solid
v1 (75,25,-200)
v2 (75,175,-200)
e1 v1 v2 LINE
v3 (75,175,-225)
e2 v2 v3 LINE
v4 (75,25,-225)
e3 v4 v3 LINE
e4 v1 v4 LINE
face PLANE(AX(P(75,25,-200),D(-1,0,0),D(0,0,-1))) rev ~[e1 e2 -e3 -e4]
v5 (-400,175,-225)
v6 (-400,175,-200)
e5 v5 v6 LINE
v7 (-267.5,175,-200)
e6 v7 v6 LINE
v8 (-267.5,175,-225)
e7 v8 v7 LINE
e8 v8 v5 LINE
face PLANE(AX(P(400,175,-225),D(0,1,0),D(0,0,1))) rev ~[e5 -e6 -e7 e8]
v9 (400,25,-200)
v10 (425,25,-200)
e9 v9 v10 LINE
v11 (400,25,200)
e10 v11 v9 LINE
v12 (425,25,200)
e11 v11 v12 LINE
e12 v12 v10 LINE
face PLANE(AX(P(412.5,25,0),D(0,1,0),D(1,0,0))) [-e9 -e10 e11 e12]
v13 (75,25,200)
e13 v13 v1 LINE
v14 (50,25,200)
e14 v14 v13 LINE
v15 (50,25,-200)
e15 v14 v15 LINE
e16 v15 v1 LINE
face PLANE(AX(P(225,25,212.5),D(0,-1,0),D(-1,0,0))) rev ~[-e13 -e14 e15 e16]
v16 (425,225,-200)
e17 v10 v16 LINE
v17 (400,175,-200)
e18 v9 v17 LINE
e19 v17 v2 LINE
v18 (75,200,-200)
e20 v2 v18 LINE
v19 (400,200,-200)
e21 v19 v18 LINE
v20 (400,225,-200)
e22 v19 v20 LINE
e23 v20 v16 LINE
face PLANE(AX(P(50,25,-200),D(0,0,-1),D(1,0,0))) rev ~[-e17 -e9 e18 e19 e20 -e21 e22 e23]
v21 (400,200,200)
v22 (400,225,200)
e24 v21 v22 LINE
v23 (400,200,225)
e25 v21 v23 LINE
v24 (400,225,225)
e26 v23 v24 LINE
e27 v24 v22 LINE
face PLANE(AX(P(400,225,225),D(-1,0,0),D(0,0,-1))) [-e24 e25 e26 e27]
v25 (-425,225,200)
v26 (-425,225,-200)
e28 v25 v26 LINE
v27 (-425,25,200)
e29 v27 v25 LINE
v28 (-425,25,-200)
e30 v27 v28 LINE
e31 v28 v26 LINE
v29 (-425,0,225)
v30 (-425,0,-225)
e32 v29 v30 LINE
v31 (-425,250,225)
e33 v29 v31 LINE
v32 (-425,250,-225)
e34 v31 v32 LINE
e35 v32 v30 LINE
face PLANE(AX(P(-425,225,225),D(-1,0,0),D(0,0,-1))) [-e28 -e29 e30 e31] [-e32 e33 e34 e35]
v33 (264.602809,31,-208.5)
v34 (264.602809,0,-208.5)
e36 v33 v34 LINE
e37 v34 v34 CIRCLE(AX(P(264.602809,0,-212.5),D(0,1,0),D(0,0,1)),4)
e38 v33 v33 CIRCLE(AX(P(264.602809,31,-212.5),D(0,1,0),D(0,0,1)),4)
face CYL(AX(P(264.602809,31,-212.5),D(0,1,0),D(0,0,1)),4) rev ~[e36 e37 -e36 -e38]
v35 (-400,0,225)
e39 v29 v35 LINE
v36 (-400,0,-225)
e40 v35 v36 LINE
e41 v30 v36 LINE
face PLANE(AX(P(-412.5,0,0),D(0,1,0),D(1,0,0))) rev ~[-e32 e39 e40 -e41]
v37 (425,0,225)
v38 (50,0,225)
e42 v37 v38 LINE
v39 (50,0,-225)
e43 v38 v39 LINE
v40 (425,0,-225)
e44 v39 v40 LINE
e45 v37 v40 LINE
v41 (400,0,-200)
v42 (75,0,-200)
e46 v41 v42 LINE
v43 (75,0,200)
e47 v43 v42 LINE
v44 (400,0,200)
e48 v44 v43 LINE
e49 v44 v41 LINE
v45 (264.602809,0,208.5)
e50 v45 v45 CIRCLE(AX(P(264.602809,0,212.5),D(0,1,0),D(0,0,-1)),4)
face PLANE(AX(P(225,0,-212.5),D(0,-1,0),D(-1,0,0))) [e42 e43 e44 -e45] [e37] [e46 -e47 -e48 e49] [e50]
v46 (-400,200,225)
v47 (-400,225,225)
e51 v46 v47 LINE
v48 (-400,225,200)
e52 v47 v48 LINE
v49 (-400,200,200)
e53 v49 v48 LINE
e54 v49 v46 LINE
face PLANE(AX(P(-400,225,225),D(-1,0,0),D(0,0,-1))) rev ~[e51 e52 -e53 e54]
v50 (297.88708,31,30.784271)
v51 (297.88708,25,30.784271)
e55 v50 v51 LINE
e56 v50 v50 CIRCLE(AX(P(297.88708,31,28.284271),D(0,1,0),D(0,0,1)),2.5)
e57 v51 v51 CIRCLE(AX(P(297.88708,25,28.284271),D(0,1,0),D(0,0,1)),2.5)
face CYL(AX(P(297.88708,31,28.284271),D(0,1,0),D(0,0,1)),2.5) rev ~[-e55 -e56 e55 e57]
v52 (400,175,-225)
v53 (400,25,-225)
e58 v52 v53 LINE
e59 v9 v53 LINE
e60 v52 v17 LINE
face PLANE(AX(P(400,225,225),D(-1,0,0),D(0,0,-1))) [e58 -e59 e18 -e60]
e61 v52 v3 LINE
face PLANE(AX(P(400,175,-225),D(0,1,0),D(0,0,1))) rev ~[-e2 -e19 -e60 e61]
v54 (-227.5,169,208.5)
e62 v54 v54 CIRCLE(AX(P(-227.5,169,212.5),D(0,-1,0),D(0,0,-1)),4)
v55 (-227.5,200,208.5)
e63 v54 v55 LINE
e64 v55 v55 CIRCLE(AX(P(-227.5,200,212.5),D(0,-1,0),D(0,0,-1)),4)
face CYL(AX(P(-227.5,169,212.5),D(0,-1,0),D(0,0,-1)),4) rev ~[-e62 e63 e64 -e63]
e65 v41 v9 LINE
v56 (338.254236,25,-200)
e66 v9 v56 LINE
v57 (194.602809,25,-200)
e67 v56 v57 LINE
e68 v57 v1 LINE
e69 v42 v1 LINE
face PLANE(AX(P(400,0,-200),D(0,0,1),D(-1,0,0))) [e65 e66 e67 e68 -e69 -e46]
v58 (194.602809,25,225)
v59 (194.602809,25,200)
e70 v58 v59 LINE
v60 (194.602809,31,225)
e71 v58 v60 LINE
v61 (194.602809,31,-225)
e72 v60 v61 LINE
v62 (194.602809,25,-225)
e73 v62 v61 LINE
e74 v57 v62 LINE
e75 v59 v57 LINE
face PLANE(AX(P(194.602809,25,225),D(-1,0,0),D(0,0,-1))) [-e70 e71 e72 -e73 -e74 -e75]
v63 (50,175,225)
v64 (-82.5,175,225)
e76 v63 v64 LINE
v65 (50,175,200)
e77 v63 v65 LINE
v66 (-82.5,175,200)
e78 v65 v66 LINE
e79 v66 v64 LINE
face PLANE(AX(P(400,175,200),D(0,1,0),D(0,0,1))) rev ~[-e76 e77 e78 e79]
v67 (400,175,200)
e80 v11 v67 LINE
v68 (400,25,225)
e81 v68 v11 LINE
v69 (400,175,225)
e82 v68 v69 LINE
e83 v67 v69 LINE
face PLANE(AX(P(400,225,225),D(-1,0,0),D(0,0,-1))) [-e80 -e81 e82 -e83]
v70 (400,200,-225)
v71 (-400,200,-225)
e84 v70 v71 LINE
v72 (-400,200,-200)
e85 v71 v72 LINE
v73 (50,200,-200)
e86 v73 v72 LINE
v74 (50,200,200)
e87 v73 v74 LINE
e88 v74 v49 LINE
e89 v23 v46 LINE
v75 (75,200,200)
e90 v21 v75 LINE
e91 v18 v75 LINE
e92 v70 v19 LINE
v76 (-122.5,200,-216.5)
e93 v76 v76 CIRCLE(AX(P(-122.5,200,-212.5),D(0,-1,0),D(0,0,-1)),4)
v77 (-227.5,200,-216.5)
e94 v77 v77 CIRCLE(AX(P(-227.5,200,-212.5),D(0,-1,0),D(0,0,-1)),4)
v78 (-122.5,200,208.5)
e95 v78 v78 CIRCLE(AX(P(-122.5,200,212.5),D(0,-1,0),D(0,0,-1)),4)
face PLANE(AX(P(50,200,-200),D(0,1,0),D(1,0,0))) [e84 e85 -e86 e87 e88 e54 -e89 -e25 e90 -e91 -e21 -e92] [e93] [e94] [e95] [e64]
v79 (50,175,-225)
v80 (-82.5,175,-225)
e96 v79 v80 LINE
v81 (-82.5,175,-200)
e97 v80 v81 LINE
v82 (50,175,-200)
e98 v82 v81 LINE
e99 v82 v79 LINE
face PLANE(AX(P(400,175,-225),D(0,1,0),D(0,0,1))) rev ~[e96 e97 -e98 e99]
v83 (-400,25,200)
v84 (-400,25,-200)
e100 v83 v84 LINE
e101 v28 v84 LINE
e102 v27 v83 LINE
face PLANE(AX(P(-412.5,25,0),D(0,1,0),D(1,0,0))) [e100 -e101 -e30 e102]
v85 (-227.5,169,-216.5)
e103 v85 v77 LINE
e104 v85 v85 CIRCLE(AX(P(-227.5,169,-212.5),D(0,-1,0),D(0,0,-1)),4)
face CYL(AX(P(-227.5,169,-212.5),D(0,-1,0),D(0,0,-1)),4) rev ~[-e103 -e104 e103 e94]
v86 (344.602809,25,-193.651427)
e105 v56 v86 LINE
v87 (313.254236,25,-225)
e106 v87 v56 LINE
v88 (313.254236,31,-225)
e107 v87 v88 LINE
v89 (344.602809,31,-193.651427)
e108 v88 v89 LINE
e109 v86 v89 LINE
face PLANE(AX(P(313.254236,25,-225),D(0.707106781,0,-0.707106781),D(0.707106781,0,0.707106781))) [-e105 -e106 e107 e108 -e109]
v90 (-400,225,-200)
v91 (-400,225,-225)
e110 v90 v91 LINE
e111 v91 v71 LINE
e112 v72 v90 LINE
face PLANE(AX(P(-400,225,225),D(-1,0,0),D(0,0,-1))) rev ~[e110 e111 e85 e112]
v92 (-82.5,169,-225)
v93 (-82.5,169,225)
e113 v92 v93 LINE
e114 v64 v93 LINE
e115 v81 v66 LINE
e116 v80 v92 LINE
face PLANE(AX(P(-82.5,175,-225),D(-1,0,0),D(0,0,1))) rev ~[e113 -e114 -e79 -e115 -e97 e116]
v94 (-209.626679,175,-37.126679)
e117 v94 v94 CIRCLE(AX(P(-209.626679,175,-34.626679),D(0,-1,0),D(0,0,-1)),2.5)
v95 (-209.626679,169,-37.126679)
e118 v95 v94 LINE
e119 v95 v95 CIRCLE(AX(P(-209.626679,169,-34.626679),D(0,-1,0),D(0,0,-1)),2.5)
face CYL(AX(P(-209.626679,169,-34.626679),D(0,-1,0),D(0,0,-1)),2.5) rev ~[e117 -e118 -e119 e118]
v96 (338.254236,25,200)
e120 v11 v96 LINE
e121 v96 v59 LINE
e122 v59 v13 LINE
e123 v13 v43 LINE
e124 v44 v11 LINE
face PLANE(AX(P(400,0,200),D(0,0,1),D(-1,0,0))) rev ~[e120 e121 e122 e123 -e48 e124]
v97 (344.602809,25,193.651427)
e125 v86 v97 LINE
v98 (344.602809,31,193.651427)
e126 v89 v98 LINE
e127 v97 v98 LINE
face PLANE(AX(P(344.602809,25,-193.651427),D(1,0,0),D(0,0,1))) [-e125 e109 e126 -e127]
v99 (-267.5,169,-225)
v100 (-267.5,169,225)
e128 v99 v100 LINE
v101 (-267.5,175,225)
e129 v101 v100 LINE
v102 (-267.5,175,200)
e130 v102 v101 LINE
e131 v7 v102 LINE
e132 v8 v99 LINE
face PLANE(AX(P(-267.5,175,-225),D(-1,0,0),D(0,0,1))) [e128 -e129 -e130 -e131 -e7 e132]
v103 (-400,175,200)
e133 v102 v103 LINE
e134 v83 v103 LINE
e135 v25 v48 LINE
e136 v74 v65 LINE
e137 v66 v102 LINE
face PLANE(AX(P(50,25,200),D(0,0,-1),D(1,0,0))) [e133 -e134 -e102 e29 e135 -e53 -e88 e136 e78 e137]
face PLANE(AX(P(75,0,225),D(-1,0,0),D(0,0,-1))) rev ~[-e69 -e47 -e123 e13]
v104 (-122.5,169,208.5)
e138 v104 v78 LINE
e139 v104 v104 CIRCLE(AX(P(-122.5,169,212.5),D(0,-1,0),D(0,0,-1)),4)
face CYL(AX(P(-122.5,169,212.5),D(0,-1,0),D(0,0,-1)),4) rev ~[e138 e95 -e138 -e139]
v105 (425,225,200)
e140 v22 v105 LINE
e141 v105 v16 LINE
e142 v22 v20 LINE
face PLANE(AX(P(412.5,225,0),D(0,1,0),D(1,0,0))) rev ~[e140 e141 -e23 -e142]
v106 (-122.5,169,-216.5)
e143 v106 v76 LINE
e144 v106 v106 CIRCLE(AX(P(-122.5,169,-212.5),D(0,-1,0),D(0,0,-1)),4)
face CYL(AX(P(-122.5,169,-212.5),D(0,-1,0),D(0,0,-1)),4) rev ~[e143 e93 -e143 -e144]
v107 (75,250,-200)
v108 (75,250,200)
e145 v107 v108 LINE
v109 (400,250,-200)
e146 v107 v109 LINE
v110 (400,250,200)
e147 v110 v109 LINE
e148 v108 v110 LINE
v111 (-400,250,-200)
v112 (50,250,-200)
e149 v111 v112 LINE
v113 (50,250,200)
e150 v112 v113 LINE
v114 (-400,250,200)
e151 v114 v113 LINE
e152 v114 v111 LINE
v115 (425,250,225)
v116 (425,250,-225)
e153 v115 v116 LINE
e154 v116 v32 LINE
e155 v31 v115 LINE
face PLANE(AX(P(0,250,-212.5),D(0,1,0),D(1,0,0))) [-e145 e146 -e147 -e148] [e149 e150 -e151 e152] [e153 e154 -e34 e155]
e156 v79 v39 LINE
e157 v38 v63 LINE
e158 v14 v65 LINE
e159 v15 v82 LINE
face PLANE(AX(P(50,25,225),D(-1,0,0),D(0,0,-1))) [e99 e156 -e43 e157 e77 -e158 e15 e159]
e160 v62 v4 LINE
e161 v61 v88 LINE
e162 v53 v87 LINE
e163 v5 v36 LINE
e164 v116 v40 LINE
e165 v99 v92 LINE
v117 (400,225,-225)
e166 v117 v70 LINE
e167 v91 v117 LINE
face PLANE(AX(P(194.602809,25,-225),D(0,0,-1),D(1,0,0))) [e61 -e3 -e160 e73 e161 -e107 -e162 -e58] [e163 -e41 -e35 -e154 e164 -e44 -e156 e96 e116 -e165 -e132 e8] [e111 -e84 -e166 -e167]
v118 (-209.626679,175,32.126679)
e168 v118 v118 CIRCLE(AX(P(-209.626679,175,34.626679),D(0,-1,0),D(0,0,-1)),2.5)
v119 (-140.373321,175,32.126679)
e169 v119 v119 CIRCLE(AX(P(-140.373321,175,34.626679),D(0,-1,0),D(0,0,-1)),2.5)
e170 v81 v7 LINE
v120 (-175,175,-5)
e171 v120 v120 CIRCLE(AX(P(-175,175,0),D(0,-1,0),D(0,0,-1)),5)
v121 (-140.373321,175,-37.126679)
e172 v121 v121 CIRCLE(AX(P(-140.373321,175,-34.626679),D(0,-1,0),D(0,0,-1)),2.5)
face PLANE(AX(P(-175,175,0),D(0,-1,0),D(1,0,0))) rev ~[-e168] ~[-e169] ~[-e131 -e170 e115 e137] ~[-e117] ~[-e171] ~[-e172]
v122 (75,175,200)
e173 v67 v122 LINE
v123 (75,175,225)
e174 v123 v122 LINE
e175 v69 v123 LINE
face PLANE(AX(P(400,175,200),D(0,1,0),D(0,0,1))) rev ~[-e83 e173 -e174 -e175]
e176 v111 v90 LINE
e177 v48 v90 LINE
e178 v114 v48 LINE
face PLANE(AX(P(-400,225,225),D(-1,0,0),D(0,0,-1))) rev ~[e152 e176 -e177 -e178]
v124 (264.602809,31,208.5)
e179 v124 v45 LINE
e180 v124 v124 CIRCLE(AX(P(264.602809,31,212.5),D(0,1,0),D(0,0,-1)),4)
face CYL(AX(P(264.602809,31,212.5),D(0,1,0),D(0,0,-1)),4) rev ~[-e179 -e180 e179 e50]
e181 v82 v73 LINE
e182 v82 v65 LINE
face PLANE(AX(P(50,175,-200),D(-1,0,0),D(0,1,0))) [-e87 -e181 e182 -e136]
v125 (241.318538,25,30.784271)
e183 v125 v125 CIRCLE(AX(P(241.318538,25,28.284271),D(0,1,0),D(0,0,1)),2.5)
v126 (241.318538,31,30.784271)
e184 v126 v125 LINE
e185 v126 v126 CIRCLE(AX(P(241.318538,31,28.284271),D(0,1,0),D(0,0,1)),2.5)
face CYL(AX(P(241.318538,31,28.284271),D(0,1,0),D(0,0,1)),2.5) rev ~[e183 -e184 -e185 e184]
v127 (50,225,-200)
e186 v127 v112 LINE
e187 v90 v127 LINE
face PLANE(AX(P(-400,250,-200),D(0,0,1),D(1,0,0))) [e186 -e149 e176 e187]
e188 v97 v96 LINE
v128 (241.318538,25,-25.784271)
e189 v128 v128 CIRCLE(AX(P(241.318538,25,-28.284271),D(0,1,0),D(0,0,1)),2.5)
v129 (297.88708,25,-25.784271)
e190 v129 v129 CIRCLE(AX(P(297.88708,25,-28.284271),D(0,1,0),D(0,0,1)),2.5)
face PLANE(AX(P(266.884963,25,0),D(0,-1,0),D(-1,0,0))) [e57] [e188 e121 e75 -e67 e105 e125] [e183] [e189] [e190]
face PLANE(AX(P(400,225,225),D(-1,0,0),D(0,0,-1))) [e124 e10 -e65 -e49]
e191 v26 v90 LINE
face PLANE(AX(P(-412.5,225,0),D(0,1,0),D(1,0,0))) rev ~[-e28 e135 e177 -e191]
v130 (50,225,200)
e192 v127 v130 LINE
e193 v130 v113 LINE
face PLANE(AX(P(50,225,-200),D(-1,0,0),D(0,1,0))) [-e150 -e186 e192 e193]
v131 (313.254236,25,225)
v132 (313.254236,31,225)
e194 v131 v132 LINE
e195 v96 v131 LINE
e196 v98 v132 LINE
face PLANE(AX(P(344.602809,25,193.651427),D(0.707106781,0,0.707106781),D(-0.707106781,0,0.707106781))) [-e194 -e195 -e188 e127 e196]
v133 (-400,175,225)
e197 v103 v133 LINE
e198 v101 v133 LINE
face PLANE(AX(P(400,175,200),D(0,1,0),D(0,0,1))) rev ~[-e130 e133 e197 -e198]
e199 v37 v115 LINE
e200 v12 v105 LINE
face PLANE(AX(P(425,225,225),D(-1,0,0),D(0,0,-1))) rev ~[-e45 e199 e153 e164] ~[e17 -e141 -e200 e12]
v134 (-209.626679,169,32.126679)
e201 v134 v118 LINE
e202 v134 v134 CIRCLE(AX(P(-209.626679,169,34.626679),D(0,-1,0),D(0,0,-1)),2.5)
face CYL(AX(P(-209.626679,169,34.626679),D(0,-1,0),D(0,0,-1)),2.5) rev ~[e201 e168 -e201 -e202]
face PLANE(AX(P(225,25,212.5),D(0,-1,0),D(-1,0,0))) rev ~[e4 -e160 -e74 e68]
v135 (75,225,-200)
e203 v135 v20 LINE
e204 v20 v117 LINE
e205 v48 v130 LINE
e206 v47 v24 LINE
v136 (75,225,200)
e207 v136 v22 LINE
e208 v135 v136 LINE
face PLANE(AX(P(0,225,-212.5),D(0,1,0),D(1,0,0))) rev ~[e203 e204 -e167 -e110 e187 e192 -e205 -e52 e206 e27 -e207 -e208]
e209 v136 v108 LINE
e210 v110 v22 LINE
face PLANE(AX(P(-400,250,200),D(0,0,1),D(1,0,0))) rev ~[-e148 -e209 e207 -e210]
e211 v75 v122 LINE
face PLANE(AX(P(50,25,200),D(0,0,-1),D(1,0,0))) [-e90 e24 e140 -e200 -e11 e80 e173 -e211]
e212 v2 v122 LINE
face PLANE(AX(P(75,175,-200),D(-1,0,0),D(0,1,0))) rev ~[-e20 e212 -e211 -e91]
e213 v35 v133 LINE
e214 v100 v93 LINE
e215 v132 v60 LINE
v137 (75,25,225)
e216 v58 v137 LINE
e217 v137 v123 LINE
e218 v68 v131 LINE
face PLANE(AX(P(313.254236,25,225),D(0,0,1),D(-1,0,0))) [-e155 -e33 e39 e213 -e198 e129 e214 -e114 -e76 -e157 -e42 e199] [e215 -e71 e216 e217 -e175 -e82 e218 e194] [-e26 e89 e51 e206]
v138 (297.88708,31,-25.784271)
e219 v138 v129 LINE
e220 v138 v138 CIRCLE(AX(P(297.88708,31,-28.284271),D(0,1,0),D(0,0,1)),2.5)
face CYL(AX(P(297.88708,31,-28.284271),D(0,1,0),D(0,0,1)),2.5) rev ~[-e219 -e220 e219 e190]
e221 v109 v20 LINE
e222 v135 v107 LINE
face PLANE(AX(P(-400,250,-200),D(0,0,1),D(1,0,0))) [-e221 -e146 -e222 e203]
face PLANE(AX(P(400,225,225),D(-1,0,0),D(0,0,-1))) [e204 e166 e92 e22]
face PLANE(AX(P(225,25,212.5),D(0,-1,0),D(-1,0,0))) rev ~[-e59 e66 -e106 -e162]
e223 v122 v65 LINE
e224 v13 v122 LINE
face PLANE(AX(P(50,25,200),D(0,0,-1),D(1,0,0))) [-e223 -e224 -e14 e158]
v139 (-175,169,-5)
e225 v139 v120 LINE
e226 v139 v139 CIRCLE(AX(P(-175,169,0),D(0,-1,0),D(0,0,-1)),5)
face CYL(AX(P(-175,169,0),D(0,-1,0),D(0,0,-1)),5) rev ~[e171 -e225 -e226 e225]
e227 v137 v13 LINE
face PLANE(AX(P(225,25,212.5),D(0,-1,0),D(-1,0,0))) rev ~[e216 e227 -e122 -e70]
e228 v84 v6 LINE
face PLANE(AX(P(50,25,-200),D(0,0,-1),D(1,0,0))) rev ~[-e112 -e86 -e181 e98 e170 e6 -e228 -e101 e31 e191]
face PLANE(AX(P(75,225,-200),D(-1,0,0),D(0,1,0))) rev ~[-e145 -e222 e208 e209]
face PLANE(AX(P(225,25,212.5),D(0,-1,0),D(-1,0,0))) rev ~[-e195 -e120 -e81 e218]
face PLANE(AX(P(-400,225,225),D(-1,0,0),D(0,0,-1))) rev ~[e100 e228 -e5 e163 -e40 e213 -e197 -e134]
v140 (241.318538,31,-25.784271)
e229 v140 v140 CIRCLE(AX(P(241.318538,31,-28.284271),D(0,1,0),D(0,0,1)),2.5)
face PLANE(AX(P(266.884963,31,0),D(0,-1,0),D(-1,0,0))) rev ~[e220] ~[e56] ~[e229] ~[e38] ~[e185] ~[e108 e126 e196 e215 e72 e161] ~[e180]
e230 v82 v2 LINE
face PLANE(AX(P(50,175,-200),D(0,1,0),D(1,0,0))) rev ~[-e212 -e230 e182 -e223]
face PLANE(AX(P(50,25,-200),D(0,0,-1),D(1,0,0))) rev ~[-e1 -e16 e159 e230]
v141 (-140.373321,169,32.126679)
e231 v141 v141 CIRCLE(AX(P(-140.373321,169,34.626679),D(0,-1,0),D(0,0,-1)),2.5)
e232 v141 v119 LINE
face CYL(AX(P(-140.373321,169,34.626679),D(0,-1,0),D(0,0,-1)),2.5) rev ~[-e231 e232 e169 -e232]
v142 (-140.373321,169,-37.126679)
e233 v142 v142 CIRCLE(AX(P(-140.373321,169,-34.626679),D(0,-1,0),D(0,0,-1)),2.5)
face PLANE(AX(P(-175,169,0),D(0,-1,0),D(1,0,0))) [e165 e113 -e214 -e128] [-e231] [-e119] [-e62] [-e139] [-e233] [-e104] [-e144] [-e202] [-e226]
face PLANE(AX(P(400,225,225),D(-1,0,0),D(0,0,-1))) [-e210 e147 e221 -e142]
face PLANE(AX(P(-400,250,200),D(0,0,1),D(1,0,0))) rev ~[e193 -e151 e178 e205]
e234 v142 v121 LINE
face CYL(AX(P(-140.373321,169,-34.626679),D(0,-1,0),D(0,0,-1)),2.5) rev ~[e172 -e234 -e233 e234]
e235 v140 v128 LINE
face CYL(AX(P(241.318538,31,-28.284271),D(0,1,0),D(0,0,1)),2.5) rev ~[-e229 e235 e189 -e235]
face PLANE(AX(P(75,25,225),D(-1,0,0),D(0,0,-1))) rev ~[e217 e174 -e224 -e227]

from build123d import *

# Parameters (mm, degrees)
SKETCH1_W             = 25
SKETCH1_H             = 450
BOSS_EXTRUDE2_DEPTH   = 25
BOSS_EXTRUDE2_2_DEPTH = 25
SKETCH2_W             = 25
SKETCH2_H             = 25
BOSS_EXTRUDE3_DEPTH   = 200
SKETCH3_W             = 25
SKETCH3_H             = 450
BOSS_EXTRUDE4_DEPTH   = 25
SKETCH5_W             = 25
SKETCH5_H             = 25
BOSS_EXTRUDE5_DEPTH   = 200
SKETCH6_W             = 25
SKETCH6_H             = 450
BOSS_EXTRUDE6_DEPTH   = 25
SKETCH7_W             = 800
SKETCH7_H             = 25
BOSS_EXTRUDE7_DEPTH   = 25
SKETCH8_W             = 350
SKETCH8_H             = 25
BOSS_EXTRUDE8_DEPTH   = 25
SKETCH9_W             = 25
SKETCH9_H             = 425
BOSS_EXTRUDE9_DEPTH   = 25
SKETCH10_W            = 25
SKETCH10_H            = 25
BOSS_EXTRUDE10_DEPTH  = 800
BOSS_EXTRUDE13_REACH  = 532.919
SKETCH14_W            = 25
SKETCH14_H            = 25
SKETCH15_W            = 185
SKETCH15_H            = 450
BOSS_EXTRUDE14_DEPTH  = 6
BOSS_EXTRUDE15_DEPTH  = 6
CUT_EXTRUDE2_REACH    = 511.717
SKETCH19_R            = 4
CUT_EXTRUDE4_REACH    = 530.404
SKETCH20_R            = 4
SKETCH21_R            = 5
SKETCH21_R_2          = 2.5
CUT_EXTRUDE5_DEPTH    = 10
BOSS_EXTRUDE16_REACH  = 652.961
SKETCH24_W            = 25
SKETCH24_H            = 25
SKETCH25_R            = 2.5
CUT_EXTRUDE6_DEPTH    = 10


with BuildPart() as part:
    # Sketch1 → Boss-Extrude2 (new body)
    with BuildSketch(Plane(origin=(0, 0, 0), x_dir=(1, 0, 0), z_dir=(0, 1, 0))):
        with Locations((-412.5, 0)):
            Rectangle(SKETCH1_W, SKETCH1_H)
    extrude(amount=BOSS_EXTRUDE2_DEPTH)

    # Sketch2 → Boss-Extrude3 (add)
    with BuildSketch(Plane(origin=(0, 25, 0), x_dir=(1, 0, 0), z_dir=(0, 1, 0))):
        with Locations((-412.5, 212.5)):
            Rectangle(SKETCH2_W, SKETCH2_H)
        with Locations((-412.5, -212.5)):
            Rectangle(SKETCH2_W, SKETCH2_H)
    extrude(amount=BOSS_EXTRUDE3_DEPTH)

    # Sketch3 → Boss-Extrude4 (add)
    with BuildSketch(Plane(origin=(0, 225, 0), x_dir=(1, 0, 0), z_dir=(0, 1, 0))):
        with Locations((-412.5, 0)):
            Rectangle(SKETCH3_W, SKETCH3_H)
    extrude(amount=BOSS_EXTRUDE4_DEPTH)



with BuildPart() as body_2:
    # Sketch1 → Boss-Extrude2 2 (new body)
    with BuildSketch(Plane(origin=(0, 0, 0), x_dir=(1, 0, 0), z_dir=(0, 1, 0))):
        with Locations((412.5, 0)):
            Rectangle(SKETCH1_W, SKETCH1_H)
    extrude(amount=BOSS_EXTRUDE2_2_DEPTH)

    # Sketch5 → Boss-Extrude5 (add)
    with BuildSketch(Plane(origin=(0, 25, 0), x_dir=(1, 0, 0), z_dir=(0, 1, 0))):
        with Locations((412.5, 212.5)):
            Rectangle(SKETCH5_W, SKETCH5_H)
        with Locations((412.5, -212.5)):
            Rectangle(SKETCH5_W, SKETCH5_H)
    extrude(amount=BOSS_EXTRUDE5_DEPTH)

    # Sketch6 → Boss-Extrude6 (add)
    with BuildSketch(Plane(origin=(0, 225, 0), x_dir=(1, 0, 0), z_dir=(0, 1, 0))):
        with Locations((412.5, 0)):
            Rectangle(SKETCH6_W, SKETCH6_H)
    extrude(amount=BOSS_EXTRUDE6_DEPTH)


with BuildPart() as part_1:
    add(part.part)

    add(body_2.part)  # Boss-Extrude7 merges body 2
    # Sketch7 → Boss-Extrude7 (add)
    with BuildSketch(Plane(origin=(0, 250, 0), x_dir=(1, 0, 0), z_dir=(0, 1, 0))):
        with Locations((0, 212.5)):
            Rectangle(SKETCH7_W, SKETCH7_H)
        with Locations((0, -212.5)):
            Rectangle(SKETCH7_W, SKETCH7_H)
    extrude(amount=-BOSS_EXTRUDE7_DEPTH)

    # Sketch8 → Boss-Extrude8 (add)
    with BuildSketch(Plane(origin=(0, 0, 0), x_dir=(-1, 0, 0), z_dir=(0, -1, 0))):
        with Locations((-225, 212.5)):
            Rectangle(SKETCH8_W, SKETCH8_H)
        with Locations((-225, -212.5)):
            Rectangle(SKETCH8_W, SKETCH8_H)
    extrude(amount=-BOSS_EXTRUDE8_DEPTH)

    # Sketch9 → Boss-Extrude9 (add)
    with BuildSketch(Plane(origin=(0, 0, 0), x_dir=(-1, 0, 0), z_dir=(0, -1, 0))):
        with Locations((-62.5, -12.5)):
            Rectangle(SKETCH9_W, SKETCH9_H)
    extrude(amount=-BOSS_EXTRUDE9_DEPTH)

    # Sketch10 → Boss-Extrude10 (add)
    with BuildSketch(Plane.ZY.offset(-400)):
        with Locations((212.5, 187.5)):
            Rectangle(SKETCH10_W, SKETCH10_H)
        with Locations((-212.5, 187.5)):
            Rectangle(SKETCH10_W, SKETCH10_H)
    extrude(amount=BOSS_EXTRUDE10_DEPTH)

    # Sketch14 → Boss-Extrude13 (add, up to next)
    with BuildSketch(Plane(origin=(0, 25, 0), x_dir=(1, 0, 0), z_dir=(0, 1, 0)), mode=Mode.PRIVATE) as boss_extrude13_sk1:
        with Locations((62.5, 212.5)):
            Rectangle(SKETCH14_W, SKETCH14_H)
    boss_extrude13_tool1 = extrude(boss_extrude13_sk1.sketch, amount=BOSS_EXTRUDE13_REACH, mode=Mode.PRIVATE) - part_1.part
    # Sketch14 → Boss-Extrude13 (add, up to next)
    with BuildSketch(Plane(origin=(0, 25, 0), x_dir=(1, 0, 0), z_dir=(0, 1, 0)), mode=Mode.PRIVATE) as boss_extrude13_sk2:
        with Locations((62.5, -212.5)):
            Rectangle(SKETCH14_W, SKETCH14_H)
    boss_extrude13_tool2 = extrude(boss_extrude13_sk2.sketch, amount=BOSS_EXTRUDE13_REACH, mode=Mode.PRIVATE) - part_1.part
    add(boss_extrude13_tool1.solids().sort_by_distance((62.5, 25, -212.5))[0])
    add(boss_extrude13_tool2.solids().sort_by_distance((62.5, 25, 212.5))[0])

    # Sketch15 → Boss-Extrude14 (add)
    with BuildSketch(Plane.XZ.offset(-175)):
        with Locations((-175, 0)):
            Rectangle(SKETCH15_W, SKETCH15_H)
    extrude(amount=BOSS_EXTRUDE14_DEPTH)

    # Sketch18 → Boss-Extrude15 (add)
    with BuildSketch(Plane(origin=(0, 25, 0), x_dir=(1, 0, 0), z_dir=(0, 1, 0))):
        Polygon((194.602808883, 225), (313.254235522, 225), (344.602808883, 193.65142664), (344.602808883, -193.65142664), (313.254235522, -225), (194.602808883, -225), align=None)
    extrude(amount=BOSS_EXTRUDE15_DEPTH)

    # Sketch19 → Cut-Extrude2 (cut, up to next)
    with BuildSketch(Plane.XZ.offset(-169), mode=Mode.PRIVATE) as cut_extrude2_sk1:
        with Locations(Location((-227.5, 212.5, 0), (0, 0, 270))):
            Circle(SKETCH19_R)
    cut_extrude2_tool1 = extrude(cut_extrude2_sk1.sketch, amount=-CUT_EXTRUDE2_REACH, mode=Mode.PRIVATE) & part_1.part
    # Sketch19 → Cut-Extrude2 (cut, up to next)
    with BuildSketch(Plane.XZ.offset(-169), mode=Mode.PRIVATE) as cut_extrude2_sk2:
        with Locations(Location((-122.5, 212.5, 0), (0, 0, 270))):
            Circle(SKETCH19_R)
    cut_extrude2_tool2 = extrude(cut_extrude2_sk2.sketch, amount=-CUT_EXTRUDE2_REACH, mode=Mode.PRIVATE) & part_1.part
    # Sketch19 → Cut-Extrude2 (cut, up to next)
    with BuildSketch(Plane.XZ.offset(-169), mode=Mode.PRIVATE) as cut_extrude2_sk3:
        with Locations(Location((-227.5, -212.5, 0), (0, 0, 270))):
            Circle(SKETCH19_R)
    cut_extrude2_tool3 = extrude(cut_extrude2_sk3.sketch, amount=-CUT_EXTRUDE2_REACH, mode=Mode.PRIVATE) & part_1.part
    # Sketch19 → Cut-Extrude2 (cut, up to next)
    with BuildSketch(Plane.XZ.offset(-169), mode=Mode.PRIVATE) as cut_extrude2_sk4:
        with Locations(Location((-122.5, -212.5, 0), (0, 0, 270))):
            Circle(SKETCH19_R)
    cut_extrude2_tool4 = extrude(cut_extrude2_sk4.sketch, amount=-CUT_EXTRUDE2_REACH, mode=Mode.PRIVATE) & part_1.part
    add(cut_extrude2_tool1.solids().sort_by_distance((-227.5, 169, 212.5))[0], mode=Mode.SUBTRACT)
    add(cut_extrude2_tool2.solids().sort_by_distance((-122.5, 169, 212.5))[0], mode=Mode.SUBTRACT)
    add(cut_extrude2_tool3.solids().sort_by_distance((-227.5, 169, -212.5))[0], mode=Mode.SUBTRACT)
    add(cut_extrude2_tool4.solids().sort_by_distance((-122.5, 169, -212.5))[0], mode=Mode.SUBTRACT)

    # Sketch20 → Cut-Extrude4 (cut, up to next)
    with BuildSketch(Plane(origin=(0, 31, 0), x_dir=(1, 0, 0), z_dir=(0, 1, 0)), mode=Mode.PRIVATE) as cut_extrude4_sk1:
        with Locations(Location((264.602808883, 212.5, 0), (0, 0, 270))):
            Circle(SKETCH20_R)
    cut_extrude4_tool1 = extrude(cut_extrude4_sk1.sketch, amount=-CUT_EXTRUDE4_REACH, mode=Mode.PRIVATE) & part_1.part
    # Sketch20 → Cut-Extrude4 (cut, up to next)
    with BuildSketch(Plane(origin=(0, 31, 0), x_dir=(1, 0, 0), z_dir=(0, 1, 0)), mode=Mode.PRIVATE) as cut_extrude4_sk2:
        with Locations(Location((264.602808883, -212.5, 0), (0, 0, 90))):
            Circle(SKETCH20_R)
    cut_extrude4_tool2 = extrude(cut_extrude4_sk2.sketch, amount=-CUT_EXTRUDE4_REACH, mode=Mode.PRIVATE) & part_1.part
    add(cut_extrude4_tool1.solids().sort_by_distance((264.602809, 31, -212.5))[0], mode=Mode.SUBTRACT)
    add(cut_extrude4_tool2.solids().sort_by_distance((264.602809, 31, 212.5))[0], mode=Mode.SUBTRACT)

    # Sketch21 → Cut-Extrude5 (cut)
    with BuildSketch(Plane.XZ.offset(-169)):
        with Locations(Location((-175, 0, 0), (0, 0, 270))):
            Circle(SKETCH21_R)
        with Locations(Location((-209.626678733, 34.626678733, 0), (0, 0, 270))):
            Circle(SKETCH21_R_2)
        with Locations(Location((-140.373321267, 34.626678733, 0), (0, 0, 270))):
            Circle(SKETCH21_R_2)
        with Locations(Location((-140.373321267, -34.626678733, 0), (0, 0, 270))):
            Circle(SKETCH21_R_2)
        with Locations(Location((-209.626678733, -34.626678733, 0), (0, 0, 270))):
            Circle(SKETCH21_R_2)
    extrude(amount=-CUT_EXTRUDE5_DEPTH, mode=Mode.SUBTRACT)

    # Sketch24 → Boss-Extrude16 (add, up to next)
    with BuildSketch(Plane.XY.offset(-200), mode=Mode.PRIVATE) as boss_extrude16_sk1:
        with Locations((62.5, 187.5)):
            Rectangle(SKETCH24_W, SKETCH24_H)
    boss_extrude16_tool1 = extrude(boss_extrude16_sk1.sketch, amount=BOSS_EXTRUDE16_REACH, mode=Mode.PRIVATE) - part_1.part
    # Sketch24 → Boss-Extrude16 (add, up to next)
    with BuildSketch(Plane.XY.offset(-200), mode=Mode.PRIVATE) as boss_extrude16_sk2:
        with Locations((62.5, 237.5)):
            Rectangle(SKETCH24_W, SKETCH24_H)
    boss_extrude16_tool2 = extrude(boss_extrude16_sk2.sketch, amount=BOSS_EXTRUDE16_REACH, mode=Mode.PRIVATE) - part_1.part
    add(boss_extrude16_tool1.solids().sort_by_distance((62.5, 187.5, -200))[0])
    add(boss_extrude16_tool2.solids().sort_by_distance((62.5, 237.5, -200))[0])

    # Sketch25 → Cut-Extrude6 (cut)
    with BuildSketch(Plane(origin=(0, 31, 0), x_dir=(1, 0, 0), z_dir=(0, 1, 0))):
        with Locations(Location((241.318537635, 28.284271247, 0), (0, 0, 270))):
            Circle(SKETCH25_R)
        with Locations(Location((297.88708013, 28.284271247, 0), (0, 0, 270))):
            Circle(SKETCH25_R)
        with Locations(Location((297.88708013, -28.284271247, 0), (0, 0, 270))):
            Circle(SKETCH25_R)
        with Locations(Location((241.318537635, -28.284271247, 0), (0, 0, 270))):
            Circle(SKETCH25_R)
    extrude(amount=-CUT_EXTRUDE6_DEPTH, mode=Mode.SUBTRACT)


solid = part_1.part
